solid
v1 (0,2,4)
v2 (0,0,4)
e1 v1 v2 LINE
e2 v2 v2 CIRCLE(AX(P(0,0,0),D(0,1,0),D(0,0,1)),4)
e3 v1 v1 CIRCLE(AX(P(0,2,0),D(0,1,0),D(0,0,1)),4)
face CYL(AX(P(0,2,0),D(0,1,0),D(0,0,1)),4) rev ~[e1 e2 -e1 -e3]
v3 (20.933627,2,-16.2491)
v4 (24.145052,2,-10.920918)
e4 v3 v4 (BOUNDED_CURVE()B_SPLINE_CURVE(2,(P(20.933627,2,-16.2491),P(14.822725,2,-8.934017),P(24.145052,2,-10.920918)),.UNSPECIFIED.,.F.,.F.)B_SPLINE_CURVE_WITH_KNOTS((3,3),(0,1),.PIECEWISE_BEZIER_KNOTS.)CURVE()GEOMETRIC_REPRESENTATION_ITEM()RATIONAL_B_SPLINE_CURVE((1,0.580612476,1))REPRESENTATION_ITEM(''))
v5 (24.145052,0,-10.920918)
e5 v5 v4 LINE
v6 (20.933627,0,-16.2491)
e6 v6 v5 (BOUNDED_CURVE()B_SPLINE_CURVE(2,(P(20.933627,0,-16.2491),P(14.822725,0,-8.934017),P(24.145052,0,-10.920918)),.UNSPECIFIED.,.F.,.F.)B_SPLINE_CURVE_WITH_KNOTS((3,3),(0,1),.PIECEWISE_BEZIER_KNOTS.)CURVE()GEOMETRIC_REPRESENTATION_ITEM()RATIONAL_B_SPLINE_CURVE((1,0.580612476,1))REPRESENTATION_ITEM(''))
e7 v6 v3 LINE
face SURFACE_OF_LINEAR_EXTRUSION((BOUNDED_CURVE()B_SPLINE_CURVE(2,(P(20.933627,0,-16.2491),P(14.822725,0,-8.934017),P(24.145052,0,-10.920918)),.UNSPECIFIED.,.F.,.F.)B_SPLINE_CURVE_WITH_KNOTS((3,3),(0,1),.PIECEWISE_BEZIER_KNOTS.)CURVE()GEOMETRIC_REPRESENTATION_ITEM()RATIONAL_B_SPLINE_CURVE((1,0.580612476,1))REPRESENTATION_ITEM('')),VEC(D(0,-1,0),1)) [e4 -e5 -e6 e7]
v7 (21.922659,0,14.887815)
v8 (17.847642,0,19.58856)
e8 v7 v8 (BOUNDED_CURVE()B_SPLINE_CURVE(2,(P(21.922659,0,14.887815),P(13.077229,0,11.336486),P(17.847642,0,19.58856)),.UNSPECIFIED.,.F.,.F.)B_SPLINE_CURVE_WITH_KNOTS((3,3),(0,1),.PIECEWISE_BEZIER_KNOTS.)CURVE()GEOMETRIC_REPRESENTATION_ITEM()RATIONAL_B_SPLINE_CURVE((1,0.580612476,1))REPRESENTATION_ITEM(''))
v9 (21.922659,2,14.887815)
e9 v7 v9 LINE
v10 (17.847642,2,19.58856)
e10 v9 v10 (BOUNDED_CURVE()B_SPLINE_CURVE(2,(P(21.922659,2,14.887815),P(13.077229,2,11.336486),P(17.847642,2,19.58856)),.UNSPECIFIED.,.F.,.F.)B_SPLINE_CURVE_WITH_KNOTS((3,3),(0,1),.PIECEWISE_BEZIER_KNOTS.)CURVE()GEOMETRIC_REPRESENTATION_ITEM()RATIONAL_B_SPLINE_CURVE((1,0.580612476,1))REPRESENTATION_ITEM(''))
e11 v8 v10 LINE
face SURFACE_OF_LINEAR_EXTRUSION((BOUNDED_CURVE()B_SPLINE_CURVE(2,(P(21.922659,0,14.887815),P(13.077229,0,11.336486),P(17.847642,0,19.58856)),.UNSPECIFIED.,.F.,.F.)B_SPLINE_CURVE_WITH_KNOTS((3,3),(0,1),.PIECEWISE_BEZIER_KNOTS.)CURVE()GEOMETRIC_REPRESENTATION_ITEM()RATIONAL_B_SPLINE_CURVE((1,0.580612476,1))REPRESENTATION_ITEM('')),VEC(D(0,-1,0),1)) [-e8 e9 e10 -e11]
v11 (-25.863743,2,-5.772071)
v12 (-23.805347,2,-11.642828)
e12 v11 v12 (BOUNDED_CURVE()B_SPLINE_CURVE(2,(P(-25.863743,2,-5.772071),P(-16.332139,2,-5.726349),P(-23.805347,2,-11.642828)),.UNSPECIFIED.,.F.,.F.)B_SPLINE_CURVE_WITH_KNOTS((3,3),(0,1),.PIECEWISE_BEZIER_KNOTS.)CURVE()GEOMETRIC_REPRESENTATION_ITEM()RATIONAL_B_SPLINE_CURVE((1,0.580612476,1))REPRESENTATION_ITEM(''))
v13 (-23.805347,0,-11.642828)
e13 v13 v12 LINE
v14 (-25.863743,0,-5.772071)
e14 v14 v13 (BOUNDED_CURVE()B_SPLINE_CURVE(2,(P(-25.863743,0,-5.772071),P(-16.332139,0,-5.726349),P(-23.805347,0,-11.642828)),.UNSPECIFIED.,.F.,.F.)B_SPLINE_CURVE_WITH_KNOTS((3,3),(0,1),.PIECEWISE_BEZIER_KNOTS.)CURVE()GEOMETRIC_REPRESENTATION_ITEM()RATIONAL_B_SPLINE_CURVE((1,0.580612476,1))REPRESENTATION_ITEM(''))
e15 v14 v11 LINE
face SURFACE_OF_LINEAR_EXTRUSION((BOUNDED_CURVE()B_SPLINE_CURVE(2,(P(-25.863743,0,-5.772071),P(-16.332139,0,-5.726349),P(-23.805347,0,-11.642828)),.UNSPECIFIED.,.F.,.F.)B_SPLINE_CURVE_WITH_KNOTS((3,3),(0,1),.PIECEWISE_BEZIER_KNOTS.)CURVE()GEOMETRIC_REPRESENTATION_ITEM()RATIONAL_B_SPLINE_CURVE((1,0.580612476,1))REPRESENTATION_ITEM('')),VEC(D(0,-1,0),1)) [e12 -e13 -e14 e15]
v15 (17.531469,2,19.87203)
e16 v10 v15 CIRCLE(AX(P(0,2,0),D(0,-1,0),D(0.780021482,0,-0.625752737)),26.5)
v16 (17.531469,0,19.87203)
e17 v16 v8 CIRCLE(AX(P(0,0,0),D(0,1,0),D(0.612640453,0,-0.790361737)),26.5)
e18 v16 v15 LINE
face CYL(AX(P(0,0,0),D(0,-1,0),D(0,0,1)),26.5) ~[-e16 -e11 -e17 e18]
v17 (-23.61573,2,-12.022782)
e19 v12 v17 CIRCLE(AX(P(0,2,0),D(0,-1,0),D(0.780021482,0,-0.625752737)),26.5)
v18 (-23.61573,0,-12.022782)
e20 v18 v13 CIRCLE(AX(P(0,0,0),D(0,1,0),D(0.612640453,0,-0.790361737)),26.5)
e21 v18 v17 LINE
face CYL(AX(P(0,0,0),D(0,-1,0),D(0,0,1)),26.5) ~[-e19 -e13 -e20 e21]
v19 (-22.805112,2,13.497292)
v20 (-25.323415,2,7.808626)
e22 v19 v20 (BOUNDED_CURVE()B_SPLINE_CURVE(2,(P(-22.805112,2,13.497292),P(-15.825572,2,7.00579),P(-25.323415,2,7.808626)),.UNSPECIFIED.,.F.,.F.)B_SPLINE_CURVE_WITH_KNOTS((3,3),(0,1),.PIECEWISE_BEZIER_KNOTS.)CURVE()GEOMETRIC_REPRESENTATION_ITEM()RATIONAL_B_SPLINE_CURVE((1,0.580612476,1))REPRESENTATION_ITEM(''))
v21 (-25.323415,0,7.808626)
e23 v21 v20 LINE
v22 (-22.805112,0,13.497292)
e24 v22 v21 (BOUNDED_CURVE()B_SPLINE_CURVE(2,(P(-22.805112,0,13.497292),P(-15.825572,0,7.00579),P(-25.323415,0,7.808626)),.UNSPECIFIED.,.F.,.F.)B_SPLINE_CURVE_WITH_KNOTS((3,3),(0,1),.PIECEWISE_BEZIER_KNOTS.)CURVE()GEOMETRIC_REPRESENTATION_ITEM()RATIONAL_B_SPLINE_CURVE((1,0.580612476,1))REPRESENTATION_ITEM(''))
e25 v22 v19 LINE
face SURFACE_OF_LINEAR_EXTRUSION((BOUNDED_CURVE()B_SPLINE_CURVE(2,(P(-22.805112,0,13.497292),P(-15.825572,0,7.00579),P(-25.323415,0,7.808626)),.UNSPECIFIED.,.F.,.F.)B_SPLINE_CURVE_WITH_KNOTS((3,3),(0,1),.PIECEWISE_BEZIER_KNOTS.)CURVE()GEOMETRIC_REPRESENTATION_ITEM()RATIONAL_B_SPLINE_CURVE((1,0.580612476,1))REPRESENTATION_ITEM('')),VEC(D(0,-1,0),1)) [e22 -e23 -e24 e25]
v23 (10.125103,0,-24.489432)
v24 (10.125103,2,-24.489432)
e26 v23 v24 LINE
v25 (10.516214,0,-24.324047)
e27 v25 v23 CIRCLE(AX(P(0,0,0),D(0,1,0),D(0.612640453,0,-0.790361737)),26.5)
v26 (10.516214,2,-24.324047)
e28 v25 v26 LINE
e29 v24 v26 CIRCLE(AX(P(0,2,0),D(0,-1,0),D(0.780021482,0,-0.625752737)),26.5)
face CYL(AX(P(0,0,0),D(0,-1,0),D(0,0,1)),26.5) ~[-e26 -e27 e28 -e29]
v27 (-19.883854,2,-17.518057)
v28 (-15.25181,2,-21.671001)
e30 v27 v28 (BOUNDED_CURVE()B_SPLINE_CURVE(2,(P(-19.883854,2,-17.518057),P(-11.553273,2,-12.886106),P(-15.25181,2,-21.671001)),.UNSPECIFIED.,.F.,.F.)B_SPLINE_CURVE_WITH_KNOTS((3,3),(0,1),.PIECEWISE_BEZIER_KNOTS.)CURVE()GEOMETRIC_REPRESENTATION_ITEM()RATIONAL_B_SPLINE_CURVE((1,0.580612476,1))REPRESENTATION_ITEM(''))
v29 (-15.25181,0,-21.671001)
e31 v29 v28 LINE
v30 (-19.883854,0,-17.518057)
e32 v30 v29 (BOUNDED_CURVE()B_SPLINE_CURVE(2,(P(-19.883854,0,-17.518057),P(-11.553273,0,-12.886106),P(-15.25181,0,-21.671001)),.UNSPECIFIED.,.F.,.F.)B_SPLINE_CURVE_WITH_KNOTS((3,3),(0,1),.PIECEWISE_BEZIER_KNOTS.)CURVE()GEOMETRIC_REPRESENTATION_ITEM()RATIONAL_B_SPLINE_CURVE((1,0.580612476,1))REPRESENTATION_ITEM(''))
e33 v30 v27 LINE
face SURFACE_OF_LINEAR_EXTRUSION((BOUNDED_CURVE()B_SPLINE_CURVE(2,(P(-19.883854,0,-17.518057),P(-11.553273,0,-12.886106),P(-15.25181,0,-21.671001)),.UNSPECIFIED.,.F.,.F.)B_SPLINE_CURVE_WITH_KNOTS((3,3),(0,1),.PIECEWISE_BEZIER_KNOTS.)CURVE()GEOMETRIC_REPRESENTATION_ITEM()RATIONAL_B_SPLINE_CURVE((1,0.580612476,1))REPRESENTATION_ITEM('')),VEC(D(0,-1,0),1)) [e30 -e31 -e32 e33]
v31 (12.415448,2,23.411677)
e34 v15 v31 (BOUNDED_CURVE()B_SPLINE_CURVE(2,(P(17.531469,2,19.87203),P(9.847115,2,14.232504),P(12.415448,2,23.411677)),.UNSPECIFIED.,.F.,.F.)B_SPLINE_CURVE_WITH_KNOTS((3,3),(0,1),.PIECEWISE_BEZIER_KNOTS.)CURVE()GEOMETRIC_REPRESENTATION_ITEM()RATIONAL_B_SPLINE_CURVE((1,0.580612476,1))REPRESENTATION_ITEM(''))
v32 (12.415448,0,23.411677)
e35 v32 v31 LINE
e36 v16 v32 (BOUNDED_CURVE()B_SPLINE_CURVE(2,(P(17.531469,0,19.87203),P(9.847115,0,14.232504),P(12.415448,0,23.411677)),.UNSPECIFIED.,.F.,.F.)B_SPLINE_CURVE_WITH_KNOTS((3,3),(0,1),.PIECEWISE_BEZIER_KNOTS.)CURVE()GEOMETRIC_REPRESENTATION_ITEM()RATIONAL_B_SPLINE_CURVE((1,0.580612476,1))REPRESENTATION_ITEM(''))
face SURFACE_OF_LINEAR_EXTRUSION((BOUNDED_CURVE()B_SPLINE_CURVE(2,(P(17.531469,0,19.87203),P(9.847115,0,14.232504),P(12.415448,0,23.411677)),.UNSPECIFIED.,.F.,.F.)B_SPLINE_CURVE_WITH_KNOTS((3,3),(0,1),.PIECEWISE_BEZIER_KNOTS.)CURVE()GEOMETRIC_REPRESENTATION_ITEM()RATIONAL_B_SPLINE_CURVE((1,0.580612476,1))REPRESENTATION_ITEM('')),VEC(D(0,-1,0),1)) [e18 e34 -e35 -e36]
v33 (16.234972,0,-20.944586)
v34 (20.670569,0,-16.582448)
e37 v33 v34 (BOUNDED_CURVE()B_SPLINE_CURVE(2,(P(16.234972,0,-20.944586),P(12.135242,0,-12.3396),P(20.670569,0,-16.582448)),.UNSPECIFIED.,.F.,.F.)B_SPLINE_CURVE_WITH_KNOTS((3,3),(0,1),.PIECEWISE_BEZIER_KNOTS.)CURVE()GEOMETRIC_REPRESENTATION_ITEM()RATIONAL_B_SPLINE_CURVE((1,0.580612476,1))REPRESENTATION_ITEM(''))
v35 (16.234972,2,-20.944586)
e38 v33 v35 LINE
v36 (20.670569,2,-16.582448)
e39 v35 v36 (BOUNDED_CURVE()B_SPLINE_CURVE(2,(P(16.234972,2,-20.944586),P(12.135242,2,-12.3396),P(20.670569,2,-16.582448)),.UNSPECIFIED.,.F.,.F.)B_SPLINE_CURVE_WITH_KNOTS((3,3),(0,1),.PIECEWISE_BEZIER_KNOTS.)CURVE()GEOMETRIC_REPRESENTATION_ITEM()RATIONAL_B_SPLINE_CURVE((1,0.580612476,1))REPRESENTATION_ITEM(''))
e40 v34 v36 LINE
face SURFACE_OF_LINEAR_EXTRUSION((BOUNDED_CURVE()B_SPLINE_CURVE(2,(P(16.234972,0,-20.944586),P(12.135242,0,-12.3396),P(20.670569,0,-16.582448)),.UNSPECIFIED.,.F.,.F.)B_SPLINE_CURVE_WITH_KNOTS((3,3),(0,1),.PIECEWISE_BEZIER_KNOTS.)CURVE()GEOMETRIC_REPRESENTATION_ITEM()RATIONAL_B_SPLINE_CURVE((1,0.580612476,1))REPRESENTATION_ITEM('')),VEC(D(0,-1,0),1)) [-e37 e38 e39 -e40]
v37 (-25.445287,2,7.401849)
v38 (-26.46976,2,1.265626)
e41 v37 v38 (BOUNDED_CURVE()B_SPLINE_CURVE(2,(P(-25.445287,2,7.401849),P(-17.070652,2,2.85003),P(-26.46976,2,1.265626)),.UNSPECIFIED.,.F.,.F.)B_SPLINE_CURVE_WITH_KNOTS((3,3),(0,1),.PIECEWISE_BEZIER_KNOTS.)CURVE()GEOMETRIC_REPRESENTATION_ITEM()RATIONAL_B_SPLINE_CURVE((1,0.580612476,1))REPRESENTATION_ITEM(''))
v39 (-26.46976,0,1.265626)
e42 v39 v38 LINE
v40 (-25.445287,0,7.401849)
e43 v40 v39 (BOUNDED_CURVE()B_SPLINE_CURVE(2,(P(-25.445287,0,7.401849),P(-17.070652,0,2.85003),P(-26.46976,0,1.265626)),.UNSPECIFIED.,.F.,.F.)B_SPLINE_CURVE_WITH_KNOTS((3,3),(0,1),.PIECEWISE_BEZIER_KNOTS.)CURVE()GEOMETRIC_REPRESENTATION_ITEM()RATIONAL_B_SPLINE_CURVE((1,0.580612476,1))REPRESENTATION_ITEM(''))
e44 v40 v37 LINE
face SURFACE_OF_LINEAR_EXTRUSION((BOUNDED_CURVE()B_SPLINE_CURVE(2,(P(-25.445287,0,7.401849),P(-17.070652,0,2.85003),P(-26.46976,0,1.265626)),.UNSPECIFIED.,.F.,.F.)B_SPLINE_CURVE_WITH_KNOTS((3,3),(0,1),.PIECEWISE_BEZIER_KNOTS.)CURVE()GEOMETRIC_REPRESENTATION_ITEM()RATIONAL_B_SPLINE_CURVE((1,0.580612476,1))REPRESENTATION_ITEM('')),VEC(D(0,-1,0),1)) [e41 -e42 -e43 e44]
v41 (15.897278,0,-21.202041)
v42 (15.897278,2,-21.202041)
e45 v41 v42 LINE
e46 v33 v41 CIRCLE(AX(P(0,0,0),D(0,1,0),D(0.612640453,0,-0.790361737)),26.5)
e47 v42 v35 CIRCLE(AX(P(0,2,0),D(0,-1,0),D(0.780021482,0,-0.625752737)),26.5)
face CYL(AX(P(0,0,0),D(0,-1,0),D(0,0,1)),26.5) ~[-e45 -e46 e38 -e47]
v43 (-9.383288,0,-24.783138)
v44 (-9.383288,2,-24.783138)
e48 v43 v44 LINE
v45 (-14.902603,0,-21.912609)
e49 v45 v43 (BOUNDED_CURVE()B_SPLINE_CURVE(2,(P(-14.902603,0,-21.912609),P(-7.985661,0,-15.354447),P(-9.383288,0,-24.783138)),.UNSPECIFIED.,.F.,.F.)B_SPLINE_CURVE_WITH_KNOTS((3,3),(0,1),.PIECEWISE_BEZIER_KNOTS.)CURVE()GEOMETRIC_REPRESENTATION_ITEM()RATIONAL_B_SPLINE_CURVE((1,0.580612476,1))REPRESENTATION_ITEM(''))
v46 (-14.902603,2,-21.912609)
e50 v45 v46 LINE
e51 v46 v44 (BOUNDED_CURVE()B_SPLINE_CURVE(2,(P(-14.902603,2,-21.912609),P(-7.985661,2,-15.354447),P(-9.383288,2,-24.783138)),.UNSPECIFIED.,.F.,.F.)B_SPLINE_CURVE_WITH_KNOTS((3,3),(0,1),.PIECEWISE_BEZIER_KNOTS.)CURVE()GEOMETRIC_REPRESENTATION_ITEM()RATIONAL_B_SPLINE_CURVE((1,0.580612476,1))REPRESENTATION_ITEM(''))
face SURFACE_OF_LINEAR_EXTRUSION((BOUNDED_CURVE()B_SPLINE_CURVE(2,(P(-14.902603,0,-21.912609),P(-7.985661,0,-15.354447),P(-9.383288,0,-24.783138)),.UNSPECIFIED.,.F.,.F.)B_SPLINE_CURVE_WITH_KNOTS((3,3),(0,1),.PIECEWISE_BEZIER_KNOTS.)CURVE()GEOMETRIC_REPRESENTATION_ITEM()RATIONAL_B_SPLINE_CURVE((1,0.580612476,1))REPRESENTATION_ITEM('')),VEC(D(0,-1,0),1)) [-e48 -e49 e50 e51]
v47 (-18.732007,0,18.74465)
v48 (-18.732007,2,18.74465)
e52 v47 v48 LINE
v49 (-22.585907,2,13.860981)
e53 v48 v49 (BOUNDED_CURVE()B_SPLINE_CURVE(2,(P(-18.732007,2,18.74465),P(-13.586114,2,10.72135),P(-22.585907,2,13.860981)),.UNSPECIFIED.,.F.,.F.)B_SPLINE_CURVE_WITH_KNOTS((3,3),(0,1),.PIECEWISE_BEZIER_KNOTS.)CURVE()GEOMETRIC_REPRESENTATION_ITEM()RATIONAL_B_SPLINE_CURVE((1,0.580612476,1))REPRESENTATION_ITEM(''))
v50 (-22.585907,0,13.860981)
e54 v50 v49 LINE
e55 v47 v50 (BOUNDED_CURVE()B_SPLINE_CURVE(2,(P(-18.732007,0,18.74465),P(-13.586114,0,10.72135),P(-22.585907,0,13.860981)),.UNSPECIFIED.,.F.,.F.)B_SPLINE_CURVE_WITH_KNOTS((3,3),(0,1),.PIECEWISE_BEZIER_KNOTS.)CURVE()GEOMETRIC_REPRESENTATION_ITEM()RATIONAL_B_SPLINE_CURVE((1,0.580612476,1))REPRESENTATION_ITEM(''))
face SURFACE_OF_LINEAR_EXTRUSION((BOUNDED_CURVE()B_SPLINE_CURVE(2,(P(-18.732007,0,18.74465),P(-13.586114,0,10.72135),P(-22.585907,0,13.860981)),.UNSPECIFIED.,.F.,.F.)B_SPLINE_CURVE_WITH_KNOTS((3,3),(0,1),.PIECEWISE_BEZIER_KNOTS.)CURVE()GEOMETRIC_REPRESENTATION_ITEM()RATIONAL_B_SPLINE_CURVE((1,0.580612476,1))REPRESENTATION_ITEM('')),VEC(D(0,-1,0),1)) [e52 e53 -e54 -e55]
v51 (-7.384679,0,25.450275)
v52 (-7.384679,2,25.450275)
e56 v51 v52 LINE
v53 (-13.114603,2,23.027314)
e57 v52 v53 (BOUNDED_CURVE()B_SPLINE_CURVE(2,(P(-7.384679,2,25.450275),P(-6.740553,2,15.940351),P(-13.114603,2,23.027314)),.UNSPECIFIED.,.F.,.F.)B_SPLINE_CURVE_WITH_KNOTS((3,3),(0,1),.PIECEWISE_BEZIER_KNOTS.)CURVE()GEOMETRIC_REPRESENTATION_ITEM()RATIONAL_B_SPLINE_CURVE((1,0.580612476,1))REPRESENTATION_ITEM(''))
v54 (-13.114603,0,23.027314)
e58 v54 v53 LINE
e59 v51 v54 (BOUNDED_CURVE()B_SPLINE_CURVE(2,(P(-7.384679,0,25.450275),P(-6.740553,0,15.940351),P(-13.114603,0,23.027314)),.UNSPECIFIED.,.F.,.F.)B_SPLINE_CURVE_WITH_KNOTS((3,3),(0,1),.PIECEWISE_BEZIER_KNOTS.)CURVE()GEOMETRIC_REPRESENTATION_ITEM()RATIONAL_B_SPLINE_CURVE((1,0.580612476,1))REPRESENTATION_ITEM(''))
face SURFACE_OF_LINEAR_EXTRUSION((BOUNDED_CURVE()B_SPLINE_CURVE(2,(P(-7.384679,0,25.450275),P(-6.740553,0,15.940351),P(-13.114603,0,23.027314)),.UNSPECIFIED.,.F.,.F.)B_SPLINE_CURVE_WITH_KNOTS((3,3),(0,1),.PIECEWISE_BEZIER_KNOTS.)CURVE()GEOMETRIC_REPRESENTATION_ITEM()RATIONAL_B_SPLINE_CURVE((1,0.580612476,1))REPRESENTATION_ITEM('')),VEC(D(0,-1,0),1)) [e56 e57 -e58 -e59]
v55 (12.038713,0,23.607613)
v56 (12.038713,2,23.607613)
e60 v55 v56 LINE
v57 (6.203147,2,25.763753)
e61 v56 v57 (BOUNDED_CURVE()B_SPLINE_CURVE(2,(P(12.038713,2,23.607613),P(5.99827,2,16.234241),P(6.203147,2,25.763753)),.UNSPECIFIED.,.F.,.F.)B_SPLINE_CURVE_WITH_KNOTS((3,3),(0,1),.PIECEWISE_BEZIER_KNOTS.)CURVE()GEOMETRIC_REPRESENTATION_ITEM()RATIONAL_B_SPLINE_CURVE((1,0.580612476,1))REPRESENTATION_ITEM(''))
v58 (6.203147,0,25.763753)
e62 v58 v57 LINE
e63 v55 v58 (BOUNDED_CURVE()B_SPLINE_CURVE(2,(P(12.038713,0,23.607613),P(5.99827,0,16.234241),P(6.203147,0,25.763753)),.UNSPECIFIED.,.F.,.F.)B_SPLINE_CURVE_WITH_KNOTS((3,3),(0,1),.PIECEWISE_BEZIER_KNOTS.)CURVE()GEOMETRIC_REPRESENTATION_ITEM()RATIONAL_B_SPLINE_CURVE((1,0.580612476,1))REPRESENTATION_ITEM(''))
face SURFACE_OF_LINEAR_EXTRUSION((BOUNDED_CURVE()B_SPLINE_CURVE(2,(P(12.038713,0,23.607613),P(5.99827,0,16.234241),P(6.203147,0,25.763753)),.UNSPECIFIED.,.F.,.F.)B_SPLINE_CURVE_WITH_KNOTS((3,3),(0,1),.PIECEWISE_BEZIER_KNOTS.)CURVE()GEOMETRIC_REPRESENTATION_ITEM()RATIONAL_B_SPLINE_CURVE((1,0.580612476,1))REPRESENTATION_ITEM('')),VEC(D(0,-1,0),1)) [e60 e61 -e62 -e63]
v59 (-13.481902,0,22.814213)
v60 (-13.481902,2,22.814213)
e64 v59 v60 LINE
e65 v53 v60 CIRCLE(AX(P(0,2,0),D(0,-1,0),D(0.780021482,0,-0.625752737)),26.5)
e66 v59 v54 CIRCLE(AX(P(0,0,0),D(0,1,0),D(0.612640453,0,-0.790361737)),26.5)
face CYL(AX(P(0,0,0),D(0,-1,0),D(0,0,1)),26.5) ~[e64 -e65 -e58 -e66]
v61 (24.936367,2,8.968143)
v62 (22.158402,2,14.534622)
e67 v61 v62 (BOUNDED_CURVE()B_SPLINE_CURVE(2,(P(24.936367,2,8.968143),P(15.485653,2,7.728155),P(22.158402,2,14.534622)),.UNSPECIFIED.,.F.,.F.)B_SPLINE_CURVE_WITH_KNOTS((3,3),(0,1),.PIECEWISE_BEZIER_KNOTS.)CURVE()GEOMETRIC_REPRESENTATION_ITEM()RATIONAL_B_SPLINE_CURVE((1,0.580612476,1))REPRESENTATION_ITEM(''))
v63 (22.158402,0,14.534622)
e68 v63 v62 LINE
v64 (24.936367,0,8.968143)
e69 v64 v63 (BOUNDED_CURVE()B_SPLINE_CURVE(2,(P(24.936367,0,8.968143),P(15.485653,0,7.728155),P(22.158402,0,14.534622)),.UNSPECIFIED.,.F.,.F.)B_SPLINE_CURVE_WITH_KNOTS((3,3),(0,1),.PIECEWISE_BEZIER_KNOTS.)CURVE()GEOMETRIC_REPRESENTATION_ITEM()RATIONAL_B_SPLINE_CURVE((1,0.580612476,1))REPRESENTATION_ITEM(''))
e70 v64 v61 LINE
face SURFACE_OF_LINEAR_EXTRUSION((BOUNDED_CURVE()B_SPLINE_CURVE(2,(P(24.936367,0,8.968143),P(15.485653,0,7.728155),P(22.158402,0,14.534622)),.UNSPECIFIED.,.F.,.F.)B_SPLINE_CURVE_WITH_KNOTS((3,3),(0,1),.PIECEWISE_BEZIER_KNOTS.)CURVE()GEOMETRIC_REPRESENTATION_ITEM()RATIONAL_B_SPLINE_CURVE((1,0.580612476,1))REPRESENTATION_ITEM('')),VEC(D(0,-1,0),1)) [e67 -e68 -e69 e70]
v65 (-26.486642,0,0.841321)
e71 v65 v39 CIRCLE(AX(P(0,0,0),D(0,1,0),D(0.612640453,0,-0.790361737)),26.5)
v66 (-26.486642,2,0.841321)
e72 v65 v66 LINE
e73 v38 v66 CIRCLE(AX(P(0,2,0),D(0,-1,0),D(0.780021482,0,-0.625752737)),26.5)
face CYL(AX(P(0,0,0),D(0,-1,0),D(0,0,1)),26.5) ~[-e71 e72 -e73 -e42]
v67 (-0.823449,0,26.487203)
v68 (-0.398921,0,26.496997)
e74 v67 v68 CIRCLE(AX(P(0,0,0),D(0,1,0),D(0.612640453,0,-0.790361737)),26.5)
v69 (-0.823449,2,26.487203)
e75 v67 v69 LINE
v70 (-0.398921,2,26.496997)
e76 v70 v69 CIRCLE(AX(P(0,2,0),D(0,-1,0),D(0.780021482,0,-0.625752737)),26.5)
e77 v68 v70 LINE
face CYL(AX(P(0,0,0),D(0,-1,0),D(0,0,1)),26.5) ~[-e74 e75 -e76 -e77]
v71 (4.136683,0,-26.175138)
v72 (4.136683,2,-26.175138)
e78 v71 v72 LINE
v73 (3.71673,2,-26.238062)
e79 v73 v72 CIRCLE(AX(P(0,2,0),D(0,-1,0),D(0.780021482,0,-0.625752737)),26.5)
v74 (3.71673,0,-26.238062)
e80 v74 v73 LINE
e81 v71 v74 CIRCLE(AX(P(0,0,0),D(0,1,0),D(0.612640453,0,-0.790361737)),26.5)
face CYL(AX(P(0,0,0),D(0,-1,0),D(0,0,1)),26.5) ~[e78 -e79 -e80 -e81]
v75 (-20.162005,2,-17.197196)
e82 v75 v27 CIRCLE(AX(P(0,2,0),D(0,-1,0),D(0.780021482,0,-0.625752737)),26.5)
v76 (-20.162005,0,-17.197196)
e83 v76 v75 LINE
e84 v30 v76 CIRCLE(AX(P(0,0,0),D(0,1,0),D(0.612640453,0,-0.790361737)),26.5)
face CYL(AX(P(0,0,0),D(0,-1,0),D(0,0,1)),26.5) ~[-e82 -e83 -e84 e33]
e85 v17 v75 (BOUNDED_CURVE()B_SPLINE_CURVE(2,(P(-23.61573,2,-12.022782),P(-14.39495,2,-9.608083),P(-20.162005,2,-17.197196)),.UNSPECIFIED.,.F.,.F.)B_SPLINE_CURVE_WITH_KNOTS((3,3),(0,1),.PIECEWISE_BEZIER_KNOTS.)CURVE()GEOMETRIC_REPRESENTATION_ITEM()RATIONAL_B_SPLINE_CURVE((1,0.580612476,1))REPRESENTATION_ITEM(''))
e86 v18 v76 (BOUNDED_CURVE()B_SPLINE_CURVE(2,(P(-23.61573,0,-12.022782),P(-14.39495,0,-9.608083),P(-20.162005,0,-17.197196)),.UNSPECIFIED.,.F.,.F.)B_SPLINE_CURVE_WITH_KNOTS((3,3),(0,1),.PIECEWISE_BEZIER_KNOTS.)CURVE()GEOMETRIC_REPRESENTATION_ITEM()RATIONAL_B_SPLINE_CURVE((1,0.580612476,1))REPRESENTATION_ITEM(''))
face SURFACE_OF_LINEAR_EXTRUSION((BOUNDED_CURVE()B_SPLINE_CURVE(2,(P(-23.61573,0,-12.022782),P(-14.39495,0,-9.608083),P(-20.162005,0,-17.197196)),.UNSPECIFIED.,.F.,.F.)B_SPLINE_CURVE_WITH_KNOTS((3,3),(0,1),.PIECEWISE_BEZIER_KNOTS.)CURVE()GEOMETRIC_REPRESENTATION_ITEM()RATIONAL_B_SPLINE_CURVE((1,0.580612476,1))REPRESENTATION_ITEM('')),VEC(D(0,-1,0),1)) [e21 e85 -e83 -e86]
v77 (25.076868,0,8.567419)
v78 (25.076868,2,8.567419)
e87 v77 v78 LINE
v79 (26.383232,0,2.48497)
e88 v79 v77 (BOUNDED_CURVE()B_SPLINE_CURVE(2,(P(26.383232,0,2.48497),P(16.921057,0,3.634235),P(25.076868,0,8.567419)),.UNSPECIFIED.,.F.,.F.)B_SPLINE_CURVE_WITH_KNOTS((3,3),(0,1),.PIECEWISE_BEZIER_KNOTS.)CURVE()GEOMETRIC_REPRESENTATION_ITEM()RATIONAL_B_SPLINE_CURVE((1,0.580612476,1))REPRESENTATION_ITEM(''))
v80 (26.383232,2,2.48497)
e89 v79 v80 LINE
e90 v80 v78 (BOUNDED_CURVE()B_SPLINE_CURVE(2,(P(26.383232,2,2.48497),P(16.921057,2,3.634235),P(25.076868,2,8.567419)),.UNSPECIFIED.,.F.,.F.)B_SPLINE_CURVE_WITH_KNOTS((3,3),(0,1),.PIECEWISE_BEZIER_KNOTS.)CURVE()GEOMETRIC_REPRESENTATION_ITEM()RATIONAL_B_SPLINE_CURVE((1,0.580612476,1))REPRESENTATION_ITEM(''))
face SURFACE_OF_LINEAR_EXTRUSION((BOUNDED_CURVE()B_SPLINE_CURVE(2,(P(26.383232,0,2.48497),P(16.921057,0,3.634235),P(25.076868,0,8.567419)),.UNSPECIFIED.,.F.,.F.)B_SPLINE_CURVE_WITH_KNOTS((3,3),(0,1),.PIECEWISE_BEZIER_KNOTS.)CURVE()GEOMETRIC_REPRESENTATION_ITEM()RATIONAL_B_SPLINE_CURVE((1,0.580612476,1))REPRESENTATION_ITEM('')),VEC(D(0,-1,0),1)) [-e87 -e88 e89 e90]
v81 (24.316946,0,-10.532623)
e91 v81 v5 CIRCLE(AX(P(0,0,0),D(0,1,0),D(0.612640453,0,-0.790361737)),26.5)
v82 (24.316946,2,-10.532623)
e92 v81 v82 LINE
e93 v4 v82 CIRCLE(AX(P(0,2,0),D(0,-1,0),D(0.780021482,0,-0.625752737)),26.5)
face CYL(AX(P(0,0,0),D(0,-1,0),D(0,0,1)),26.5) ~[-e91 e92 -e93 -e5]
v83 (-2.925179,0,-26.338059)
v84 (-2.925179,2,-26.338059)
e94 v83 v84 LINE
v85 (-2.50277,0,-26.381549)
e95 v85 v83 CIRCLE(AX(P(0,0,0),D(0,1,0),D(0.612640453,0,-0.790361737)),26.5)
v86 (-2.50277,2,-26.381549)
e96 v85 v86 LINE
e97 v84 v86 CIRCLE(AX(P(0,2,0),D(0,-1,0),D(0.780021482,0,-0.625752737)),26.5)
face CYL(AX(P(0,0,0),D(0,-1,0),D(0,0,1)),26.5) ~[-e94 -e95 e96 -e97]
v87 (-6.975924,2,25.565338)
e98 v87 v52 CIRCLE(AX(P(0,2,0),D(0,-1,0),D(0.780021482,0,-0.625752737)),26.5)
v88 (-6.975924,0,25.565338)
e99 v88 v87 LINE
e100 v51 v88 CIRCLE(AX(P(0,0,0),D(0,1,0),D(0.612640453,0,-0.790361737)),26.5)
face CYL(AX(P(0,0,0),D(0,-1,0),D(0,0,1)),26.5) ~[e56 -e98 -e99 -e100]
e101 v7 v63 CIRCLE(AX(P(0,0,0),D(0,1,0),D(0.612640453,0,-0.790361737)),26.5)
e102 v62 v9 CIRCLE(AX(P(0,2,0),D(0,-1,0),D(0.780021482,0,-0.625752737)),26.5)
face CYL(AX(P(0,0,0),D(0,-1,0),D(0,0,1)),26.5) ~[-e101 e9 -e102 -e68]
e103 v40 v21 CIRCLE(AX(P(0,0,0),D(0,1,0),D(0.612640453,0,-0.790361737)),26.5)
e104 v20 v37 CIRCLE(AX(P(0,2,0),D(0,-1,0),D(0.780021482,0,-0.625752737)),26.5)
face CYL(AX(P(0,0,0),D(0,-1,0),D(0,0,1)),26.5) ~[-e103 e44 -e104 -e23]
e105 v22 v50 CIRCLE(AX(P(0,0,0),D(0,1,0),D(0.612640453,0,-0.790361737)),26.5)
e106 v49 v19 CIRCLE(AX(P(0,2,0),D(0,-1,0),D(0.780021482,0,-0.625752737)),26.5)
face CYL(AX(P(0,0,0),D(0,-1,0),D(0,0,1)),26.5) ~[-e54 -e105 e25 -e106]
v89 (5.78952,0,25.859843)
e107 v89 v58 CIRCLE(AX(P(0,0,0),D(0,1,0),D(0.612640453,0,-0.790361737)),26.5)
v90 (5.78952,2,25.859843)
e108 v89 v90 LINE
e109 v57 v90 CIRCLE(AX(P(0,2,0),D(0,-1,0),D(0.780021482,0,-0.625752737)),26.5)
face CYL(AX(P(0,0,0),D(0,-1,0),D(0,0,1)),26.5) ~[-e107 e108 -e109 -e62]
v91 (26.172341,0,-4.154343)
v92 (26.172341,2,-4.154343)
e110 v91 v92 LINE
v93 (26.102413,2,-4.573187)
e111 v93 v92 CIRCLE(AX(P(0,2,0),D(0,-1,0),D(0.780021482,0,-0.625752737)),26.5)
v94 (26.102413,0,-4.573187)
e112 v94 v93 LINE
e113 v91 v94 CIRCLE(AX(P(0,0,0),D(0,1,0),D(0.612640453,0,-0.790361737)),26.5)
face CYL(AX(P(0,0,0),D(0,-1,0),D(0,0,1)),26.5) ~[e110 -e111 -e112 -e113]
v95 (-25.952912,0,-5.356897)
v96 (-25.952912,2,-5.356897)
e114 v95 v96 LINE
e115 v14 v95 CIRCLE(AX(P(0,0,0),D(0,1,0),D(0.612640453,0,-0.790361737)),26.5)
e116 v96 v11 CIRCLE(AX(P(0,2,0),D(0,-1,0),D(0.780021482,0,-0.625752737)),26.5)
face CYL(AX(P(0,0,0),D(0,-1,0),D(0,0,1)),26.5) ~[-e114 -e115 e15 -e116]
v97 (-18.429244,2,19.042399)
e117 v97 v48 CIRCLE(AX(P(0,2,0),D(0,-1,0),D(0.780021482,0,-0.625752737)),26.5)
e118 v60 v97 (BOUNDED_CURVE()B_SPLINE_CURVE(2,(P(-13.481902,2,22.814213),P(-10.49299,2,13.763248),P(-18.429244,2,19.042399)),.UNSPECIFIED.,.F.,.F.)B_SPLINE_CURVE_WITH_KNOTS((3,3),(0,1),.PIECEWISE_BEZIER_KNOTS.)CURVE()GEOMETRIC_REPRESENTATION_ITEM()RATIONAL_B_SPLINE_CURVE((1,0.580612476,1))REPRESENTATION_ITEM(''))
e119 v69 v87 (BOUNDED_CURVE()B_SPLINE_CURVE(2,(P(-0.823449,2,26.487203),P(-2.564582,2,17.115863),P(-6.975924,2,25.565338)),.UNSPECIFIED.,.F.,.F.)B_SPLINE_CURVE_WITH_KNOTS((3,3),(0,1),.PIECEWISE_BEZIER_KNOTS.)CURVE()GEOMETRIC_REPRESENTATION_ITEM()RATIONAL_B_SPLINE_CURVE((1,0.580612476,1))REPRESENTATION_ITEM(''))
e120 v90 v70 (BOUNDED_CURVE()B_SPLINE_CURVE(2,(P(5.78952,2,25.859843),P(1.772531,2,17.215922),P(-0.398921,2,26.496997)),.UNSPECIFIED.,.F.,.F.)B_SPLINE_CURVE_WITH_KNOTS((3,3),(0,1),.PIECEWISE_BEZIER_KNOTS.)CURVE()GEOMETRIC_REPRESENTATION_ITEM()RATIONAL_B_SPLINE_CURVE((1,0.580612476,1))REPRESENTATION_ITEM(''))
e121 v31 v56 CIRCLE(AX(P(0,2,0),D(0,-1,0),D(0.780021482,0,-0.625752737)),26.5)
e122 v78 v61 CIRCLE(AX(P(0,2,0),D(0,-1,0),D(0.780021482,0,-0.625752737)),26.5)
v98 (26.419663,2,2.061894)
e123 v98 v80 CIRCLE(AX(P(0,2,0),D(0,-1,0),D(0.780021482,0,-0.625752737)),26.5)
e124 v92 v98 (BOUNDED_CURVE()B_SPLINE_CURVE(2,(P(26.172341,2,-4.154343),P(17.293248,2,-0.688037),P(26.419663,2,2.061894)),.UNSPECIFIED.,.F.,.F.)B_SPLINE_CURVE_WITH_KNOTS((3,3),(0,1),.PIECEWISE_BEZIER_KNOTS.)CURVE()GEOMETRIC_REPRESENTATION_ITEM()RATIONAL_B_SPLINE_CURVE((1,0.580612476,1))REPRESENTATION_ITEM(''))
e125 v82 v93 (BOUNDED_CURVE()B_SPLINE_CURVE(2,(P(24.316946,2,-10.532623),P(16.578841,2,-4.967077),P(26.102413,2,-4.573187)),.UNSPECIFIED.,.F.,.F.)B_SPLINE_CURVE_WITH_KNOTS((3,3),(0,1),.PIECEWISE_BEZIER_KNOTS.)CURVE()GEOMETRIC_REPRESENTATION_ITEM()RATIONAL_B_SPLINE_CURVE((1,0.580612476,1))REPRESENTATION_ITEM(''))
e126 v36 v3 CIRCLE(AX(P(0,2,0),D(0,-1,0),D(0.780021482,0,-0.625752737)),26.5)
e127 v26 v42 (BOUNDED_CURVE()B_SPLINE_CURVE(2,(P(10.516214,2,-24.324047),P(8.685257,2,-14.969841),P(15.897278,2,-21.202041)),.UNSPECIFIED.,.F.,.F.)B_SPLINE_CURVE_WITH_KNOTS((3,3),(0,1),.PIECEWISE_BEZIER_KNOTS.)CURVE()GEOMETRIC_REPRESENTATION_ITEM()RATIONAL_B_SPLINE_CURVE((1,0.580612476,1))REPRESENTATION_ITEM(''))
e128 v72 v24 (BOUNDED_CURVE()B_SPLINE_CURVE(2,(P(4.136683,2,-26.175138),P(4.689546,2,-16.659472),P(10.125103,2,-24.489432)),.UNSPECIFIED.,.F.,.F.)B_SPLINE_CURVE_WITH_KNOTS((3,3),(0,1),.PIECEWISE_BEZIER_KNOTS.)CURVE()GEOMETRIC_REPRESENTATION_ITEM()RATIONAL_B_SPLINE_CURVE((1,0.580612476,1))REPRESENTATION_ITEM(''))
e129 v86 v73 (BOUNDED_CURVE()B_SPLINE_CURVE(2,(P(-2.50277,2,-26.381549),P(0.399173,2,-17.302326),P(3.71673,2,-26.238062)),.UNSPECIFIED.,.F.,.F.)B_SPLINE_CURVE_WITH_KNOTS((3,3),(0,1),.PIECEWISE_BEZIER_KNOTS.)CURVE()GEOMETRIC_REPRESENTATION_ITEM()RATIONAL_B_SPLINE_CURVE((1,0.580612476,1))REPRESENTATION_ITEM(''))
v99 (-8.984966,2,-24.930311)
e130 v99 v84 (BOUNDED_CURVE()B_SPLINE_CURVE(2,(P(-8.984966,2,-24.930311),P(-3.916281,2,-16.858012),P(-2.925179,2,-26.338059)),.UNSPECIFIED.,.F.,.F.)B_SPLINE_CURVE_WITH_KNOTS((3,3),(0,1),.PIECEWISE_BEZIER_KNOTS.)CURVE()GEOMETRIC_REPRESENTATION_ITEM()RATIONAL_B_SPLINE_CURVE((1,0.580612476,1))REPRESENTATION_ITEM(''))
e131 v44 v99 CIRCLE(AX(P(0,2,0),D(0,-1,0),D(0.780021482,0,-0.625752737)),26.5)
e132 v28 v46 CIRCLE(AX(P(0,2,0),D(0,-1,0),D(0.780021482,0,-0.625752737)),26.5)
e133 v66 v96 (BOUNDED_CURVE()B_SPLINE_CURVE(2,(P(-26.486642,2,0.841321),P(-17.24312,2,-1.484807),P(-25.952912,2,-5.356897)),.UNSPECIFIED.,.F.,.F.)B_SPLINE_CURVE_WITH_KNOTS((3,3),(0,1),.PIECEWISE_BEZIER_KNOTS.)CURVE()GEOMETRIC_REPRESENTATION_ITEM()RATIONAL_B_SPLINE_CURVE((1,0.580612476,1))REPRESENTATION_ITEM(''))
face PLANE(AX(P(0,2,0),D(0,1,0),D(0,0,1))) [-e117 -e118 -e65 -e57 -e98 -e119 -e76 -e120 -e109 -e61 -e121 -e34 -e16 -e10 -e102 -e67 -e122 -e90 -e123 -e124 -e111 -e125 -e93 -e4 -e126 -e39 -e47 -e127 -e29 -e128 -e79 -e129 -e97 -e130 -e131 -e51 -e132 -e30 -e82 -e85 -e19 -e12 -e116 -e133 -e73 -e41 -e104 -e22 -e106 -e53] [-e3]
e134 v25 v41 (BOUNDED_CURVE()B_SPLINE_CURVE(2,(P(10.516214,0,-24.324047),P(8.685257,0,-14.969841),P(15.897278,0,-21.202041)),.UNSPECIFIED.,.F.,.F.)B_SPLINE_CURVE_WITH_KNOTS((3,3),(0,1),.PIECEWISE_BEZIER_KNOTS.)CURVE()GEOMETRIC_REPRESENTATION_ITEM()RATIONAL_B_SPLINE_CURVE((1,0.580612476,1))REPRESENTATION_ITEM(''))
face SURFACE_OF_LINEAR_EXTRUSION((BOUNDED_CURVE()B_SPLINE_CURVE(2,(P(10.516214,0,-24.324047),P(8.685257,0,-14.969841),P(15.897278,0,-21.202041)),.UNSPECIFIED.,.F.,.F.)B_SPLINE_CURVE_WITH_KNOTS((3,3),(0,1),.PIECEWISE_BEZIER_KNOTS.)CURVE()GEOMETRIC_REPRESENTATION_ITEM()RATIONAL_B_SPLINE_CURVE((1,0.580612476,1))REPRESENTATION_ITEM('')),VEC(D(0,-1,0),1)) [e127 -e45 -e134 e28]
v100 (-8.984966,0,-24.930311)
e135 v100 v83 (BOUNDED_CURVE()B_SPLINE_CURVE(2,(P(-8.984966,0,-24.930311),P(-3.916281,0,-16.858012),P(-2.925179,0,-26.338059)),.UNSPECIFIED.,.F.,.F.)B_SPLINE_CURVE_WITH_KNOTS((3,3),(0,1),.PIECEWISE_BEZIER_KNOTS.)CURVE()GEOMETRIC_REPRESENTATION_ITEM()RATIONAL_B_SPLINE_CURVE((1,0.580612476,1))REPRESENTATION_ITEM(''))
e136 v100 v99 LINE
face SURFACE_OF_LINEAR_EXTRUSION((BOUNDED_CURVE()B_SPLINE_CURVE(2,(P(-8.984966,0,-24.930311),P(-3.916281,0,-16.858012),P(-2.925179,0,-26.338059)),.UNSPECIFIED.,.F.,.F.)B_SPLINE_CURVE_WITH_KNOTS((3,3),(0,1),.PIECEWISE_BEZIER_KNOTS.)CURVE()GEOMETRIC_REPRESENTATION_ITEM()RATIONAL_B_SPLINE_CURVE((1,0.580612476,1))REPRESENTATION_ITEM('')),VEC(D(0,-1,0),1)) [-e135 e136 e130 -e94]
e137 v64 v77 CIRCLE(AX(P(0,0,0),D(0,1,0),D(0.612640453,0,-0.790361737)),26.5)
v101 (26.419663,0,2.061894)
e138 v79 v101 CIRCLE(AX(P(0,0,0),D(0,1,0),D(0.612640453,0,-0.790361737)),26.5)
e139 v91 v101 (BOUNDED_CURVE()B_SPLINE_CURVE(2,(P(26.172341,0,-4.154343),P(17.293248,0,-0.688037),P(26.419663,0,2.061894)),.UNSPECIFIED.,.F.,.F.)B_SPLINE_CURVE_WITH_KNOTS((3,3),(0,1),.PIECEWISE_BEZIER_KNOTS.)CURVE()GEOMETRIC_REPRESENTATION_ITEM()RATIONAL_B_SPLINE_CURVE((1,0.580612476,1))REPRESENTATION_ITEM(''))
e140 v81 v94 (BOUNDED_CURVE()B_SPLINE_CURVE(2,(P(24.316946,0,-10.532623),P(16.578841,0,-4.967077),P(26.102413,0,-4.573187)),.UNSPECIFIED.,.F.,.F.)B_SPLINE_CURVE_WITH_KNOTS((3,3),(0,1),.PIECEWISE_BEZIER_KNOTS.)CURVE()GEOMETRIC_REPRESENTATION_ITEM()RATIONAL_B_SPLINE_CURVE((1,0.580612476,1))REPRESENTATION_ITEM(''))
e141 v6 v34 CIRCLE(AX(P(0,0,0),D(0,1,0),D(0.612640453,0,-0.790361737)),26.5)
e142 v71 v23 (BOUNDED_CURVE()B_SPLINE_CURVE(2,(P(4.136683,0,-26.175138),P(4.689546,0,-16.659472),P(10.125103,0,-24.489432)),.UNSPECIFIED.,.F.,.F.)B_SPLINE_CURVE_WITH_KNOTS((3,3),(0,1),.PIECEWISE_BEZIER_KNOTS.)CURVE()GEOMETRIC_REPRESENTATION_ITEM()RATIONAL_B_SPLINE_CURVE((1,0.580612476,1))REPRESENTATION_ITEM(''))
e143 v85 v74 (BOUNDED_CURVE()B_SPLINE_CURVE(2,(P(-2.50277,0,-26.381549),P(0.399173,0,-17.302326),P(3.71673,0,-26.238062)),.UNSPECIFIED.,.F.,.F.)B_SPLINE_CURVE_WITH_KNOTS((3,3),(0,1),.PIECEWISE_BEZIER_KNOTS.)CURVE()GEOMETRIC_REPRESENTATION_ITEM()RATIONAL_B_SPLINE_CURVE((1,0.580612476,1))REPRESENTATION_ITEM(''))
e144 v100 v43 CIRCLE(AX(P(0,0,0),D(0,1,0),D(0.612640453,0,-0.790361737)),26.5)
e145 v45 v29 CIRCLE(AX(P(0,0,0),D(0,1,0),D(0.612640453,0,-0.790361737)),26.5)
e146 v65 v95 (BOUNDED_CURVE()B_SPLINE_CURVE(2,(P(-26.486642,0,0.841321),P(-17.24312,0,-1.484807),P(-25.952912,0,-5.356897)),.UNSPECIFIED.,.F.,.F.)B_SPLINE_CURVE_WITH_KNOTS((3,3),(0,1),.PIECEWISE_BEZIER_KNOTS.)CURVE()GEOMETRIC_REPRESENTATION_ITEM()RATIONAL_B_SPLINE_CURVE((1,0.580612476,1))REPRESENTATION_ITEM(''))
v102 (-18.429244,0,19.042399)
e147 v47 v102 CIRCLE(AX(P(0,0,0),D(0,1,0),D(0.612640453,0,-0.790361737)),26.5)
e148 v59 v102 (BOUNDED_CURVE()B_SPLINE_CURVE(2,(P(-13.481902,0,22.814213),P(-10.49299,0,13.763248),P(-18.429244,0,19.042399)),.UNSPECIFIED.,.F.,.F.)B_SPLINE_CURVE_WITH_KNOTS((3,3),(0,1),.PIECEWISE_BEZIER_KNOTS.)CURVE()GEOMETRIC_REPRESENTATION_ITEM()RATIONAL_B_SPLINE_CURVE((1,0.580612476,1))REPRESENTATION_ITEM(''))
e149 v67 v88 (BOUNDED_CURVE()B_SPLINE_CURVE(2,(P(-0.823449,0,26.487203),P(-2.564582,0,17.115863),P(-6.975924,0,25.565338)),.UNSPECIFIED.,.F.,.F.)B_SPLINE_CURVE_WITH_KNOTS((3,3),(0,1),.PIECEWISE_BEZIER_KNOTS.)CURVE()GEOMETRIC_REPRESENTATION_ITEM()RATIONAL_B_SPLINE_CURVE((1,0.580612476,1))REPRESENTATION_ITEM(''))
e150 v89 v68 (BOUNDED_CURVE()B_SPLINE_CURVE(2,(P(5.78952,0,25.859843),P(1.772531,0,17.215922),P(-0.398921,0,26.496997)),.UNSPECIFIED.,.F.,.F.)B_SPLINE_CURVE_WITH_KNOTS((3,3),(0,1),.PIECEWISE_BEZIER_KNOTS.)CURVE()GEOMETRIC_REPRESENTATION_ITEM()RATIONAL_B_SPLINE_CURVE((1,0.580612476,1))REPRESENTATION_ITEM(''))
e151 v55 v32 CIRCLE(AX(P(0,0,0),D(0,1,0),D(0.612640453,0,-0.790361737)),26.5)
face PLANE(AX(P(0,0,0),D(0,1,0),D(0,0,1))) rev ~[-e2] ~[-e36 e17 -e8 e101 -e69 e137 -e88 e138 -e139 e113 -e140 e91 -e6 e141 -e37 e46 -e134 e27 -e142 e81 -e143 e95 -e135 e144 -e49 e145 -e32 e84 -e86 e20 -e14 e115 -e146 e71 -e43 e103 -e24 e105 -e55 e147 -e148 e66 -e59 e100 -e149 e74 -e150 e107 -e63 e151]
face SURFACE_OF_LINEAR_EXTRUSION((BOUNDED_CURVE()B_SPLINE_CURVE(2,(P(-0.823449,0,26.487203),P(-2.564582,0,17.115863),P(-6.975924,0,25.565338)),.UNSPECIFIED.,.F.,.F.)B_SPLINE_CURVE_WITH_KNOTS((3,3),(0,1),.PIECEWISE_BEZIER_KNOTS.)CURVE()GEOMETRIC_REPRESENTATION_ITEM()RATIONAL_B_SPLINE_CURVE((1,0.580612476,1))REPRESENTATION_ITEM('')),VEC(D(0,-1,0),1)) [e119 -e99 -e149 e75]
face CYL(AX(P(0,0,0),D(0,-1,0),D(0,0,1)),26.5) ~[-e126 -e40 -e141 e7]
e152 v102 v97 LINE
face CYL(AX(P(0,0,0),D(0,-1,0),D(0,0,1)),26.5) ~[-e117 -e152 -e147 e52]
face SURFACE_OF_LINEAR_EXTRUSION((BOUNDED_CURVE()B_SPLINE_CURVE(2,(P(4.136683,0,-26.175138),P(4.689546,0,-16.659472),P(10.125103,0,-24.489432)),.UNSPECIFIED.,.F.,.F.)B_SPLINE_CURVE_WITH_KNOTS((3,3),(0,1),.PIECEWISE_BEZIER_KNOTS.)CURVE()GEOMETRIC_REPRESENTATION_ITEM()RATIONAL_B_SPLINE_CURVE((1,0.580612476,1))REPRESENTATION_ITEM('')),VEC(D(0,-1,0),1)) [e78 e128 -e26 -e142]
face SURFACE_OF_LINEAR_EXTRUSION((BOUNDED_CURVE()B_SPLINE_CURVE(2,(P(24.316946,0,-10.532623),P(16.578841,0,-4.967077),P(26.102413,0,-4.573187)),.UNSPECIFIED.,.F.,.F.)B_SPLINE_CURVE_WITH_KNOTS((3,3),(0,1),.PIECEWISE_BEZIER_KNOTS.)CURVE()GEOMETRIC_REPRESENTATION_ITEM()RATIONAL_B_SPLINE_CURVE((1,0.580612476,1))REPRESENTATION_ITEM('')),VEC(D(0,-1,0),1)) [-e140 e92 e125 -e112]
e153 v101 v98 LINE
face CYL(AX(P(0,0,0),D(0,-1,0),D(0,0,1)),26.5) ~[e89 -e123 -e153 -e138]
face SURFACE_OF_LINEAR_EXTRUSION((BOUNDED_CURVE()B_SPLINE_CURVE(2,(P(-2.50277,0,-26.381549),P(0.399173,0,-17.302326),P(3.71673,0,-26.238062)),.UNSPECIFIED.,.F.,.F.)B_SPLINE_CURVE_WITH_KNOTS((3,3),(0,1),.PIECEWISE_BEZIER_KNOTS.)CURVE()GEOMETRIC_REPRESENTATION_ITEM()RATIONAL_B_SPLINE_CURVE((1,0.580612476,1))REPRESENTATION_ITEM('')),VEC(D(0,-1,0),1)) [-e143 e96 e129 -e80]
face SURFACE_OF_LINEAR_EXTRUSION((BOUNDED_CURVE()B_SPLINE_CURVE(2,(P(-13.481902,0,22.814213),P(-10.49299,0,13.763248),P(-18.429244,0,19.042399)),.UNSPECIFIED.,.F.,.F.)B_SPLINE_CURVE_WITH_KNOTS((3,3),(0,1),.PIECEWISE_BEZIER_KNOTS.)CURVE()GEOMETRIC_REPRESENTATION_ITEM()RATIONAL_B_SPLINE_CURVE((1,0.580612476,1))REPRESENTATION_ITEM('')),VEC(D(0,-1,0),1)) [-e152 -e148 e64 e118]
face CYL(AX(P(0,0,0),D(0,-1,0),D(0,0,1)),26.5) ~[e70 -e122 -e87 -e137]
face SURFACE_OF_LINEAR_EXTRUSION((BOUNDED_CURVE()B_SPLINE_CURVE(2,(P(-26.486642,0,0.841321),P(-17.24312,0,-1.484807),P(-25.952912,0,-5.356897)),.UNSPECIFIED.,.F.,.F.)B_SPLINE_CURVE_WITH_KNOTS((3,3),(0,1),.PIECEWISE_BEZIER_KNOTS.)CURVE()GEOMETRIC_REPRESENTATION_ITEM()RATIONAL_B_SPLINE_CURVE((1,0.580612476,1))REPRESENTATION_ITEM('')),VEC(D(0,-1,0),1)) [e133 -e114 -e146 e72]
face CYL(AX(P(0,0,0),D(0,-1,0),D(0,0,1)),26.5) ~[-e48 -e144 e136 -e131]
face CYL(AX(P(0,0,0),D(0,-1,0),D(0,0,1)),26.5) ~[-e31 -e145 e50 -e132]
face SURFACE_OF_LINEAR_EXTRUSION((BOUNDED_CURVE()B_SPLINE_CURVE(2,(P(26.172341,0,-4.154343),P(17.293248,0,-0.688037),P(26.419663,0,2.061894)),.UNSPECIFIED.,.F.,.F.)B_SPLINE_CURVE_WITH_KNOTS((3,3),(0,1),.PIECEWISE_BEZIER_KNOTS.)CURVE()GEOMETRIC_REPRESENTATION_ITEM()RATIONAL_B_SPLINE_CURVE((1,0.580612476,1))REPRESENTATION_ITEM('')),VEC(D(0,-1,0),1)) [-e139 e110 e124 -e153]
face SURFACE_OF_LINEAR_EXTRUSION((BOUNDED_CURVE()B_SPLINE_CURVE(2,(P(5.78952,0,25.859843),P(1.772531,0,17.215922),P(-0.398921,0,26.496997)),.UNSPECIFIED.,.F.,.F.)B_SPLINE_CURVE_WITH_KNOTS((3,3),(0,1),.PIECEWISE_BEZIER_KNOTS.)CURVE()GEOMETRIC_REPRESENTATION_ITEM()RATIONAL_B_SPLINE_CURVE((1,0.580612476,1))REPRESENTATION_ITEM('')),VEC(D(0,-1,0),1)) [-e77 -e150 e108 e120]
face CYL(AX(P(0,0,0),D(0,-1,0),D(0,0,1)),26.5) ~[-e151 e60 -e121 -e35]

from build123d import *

# Parameters (mm, degrees)
SKETCH1_R           = 26.5
BOSS_EXTRUDE1_DEPTH = 2
CUT_EXTRUDE1_START  = -2
CUT_EXTRUDE1_DEPTH  = 2
CIRPATTERN2_COUNT   = 25
SKETCH4_R           = 4
CUT_EXTRUDE2_DEPTH  = 2


with BuildPart() as part:
    # Sketch1 → Boss-Extrude1 (new body)
    with BuildSketch(Plane(origin=(0, 0, 0), x_dir=(1, 0, 0), z_dir=(0, 1, 0))):
        with Locations(Location((0, 0, 0), (0, 0, 270))):
            Circle(SKETCH1_R)
    extrude(amount=BOSS_EXTRUDE1_DEPTH)

    # Sketch2 → Cut-Extrude1 (cut)
    with BuildSketch(Plane(origin=(0, 2, 0), x_dir=(1, 0, 0), z_dir=(0, 1, 0)).offset(CUT_EXTRUDE1_START)):
        with BuildLine():
            ThreePointArc((20.67056927, 16.582447529), (18.581221902, 18.894131169), (16.234972011, 20.944586026))
            add(Edge.make_bspline(
                [(16.234972011, 20.944586026), (12.135241932, 12.33960038), (20.67056927, 16.582447529)],
                knots=[0, 0, 0, 1, 1, 1], degree=2, weights=[1, 0.580612476, 1]))
        make_face()
    cut_extrude1 = extrude(amount=CUT_EXTRUDE1_DEPTH, mode=Mode.SUBTRACT)

    # CirPattern2: Cut-Extrude1 ×25 about axis
    cirpattern2_axis = Axis((0, 2, 0), (0, -1, 0))
    for i in range(1, CIRPATTERN2_COUNT):
        add(cut_extrude1.rotate(cirpattern2_axis, i * 360 / CIRPATTERN2_COUNT), mode=Mode.SUBTRACT)

    # Sketch4 → Cut-Extrude2 (cut)
    with BuildSketch(Plane(origin=(0, 2, 0), x_dir=(1, 0, 0), z_dir=(0, 1, 0))):
        with Locations(Location((0, 0, 0), (0, 0, 270))):
            Circle(SKETCH4_R)
    extrude(amount=-CUT_EXTRUDE2_DEPTH, mode=Mode.SUBTRACT)


solid = part.part
